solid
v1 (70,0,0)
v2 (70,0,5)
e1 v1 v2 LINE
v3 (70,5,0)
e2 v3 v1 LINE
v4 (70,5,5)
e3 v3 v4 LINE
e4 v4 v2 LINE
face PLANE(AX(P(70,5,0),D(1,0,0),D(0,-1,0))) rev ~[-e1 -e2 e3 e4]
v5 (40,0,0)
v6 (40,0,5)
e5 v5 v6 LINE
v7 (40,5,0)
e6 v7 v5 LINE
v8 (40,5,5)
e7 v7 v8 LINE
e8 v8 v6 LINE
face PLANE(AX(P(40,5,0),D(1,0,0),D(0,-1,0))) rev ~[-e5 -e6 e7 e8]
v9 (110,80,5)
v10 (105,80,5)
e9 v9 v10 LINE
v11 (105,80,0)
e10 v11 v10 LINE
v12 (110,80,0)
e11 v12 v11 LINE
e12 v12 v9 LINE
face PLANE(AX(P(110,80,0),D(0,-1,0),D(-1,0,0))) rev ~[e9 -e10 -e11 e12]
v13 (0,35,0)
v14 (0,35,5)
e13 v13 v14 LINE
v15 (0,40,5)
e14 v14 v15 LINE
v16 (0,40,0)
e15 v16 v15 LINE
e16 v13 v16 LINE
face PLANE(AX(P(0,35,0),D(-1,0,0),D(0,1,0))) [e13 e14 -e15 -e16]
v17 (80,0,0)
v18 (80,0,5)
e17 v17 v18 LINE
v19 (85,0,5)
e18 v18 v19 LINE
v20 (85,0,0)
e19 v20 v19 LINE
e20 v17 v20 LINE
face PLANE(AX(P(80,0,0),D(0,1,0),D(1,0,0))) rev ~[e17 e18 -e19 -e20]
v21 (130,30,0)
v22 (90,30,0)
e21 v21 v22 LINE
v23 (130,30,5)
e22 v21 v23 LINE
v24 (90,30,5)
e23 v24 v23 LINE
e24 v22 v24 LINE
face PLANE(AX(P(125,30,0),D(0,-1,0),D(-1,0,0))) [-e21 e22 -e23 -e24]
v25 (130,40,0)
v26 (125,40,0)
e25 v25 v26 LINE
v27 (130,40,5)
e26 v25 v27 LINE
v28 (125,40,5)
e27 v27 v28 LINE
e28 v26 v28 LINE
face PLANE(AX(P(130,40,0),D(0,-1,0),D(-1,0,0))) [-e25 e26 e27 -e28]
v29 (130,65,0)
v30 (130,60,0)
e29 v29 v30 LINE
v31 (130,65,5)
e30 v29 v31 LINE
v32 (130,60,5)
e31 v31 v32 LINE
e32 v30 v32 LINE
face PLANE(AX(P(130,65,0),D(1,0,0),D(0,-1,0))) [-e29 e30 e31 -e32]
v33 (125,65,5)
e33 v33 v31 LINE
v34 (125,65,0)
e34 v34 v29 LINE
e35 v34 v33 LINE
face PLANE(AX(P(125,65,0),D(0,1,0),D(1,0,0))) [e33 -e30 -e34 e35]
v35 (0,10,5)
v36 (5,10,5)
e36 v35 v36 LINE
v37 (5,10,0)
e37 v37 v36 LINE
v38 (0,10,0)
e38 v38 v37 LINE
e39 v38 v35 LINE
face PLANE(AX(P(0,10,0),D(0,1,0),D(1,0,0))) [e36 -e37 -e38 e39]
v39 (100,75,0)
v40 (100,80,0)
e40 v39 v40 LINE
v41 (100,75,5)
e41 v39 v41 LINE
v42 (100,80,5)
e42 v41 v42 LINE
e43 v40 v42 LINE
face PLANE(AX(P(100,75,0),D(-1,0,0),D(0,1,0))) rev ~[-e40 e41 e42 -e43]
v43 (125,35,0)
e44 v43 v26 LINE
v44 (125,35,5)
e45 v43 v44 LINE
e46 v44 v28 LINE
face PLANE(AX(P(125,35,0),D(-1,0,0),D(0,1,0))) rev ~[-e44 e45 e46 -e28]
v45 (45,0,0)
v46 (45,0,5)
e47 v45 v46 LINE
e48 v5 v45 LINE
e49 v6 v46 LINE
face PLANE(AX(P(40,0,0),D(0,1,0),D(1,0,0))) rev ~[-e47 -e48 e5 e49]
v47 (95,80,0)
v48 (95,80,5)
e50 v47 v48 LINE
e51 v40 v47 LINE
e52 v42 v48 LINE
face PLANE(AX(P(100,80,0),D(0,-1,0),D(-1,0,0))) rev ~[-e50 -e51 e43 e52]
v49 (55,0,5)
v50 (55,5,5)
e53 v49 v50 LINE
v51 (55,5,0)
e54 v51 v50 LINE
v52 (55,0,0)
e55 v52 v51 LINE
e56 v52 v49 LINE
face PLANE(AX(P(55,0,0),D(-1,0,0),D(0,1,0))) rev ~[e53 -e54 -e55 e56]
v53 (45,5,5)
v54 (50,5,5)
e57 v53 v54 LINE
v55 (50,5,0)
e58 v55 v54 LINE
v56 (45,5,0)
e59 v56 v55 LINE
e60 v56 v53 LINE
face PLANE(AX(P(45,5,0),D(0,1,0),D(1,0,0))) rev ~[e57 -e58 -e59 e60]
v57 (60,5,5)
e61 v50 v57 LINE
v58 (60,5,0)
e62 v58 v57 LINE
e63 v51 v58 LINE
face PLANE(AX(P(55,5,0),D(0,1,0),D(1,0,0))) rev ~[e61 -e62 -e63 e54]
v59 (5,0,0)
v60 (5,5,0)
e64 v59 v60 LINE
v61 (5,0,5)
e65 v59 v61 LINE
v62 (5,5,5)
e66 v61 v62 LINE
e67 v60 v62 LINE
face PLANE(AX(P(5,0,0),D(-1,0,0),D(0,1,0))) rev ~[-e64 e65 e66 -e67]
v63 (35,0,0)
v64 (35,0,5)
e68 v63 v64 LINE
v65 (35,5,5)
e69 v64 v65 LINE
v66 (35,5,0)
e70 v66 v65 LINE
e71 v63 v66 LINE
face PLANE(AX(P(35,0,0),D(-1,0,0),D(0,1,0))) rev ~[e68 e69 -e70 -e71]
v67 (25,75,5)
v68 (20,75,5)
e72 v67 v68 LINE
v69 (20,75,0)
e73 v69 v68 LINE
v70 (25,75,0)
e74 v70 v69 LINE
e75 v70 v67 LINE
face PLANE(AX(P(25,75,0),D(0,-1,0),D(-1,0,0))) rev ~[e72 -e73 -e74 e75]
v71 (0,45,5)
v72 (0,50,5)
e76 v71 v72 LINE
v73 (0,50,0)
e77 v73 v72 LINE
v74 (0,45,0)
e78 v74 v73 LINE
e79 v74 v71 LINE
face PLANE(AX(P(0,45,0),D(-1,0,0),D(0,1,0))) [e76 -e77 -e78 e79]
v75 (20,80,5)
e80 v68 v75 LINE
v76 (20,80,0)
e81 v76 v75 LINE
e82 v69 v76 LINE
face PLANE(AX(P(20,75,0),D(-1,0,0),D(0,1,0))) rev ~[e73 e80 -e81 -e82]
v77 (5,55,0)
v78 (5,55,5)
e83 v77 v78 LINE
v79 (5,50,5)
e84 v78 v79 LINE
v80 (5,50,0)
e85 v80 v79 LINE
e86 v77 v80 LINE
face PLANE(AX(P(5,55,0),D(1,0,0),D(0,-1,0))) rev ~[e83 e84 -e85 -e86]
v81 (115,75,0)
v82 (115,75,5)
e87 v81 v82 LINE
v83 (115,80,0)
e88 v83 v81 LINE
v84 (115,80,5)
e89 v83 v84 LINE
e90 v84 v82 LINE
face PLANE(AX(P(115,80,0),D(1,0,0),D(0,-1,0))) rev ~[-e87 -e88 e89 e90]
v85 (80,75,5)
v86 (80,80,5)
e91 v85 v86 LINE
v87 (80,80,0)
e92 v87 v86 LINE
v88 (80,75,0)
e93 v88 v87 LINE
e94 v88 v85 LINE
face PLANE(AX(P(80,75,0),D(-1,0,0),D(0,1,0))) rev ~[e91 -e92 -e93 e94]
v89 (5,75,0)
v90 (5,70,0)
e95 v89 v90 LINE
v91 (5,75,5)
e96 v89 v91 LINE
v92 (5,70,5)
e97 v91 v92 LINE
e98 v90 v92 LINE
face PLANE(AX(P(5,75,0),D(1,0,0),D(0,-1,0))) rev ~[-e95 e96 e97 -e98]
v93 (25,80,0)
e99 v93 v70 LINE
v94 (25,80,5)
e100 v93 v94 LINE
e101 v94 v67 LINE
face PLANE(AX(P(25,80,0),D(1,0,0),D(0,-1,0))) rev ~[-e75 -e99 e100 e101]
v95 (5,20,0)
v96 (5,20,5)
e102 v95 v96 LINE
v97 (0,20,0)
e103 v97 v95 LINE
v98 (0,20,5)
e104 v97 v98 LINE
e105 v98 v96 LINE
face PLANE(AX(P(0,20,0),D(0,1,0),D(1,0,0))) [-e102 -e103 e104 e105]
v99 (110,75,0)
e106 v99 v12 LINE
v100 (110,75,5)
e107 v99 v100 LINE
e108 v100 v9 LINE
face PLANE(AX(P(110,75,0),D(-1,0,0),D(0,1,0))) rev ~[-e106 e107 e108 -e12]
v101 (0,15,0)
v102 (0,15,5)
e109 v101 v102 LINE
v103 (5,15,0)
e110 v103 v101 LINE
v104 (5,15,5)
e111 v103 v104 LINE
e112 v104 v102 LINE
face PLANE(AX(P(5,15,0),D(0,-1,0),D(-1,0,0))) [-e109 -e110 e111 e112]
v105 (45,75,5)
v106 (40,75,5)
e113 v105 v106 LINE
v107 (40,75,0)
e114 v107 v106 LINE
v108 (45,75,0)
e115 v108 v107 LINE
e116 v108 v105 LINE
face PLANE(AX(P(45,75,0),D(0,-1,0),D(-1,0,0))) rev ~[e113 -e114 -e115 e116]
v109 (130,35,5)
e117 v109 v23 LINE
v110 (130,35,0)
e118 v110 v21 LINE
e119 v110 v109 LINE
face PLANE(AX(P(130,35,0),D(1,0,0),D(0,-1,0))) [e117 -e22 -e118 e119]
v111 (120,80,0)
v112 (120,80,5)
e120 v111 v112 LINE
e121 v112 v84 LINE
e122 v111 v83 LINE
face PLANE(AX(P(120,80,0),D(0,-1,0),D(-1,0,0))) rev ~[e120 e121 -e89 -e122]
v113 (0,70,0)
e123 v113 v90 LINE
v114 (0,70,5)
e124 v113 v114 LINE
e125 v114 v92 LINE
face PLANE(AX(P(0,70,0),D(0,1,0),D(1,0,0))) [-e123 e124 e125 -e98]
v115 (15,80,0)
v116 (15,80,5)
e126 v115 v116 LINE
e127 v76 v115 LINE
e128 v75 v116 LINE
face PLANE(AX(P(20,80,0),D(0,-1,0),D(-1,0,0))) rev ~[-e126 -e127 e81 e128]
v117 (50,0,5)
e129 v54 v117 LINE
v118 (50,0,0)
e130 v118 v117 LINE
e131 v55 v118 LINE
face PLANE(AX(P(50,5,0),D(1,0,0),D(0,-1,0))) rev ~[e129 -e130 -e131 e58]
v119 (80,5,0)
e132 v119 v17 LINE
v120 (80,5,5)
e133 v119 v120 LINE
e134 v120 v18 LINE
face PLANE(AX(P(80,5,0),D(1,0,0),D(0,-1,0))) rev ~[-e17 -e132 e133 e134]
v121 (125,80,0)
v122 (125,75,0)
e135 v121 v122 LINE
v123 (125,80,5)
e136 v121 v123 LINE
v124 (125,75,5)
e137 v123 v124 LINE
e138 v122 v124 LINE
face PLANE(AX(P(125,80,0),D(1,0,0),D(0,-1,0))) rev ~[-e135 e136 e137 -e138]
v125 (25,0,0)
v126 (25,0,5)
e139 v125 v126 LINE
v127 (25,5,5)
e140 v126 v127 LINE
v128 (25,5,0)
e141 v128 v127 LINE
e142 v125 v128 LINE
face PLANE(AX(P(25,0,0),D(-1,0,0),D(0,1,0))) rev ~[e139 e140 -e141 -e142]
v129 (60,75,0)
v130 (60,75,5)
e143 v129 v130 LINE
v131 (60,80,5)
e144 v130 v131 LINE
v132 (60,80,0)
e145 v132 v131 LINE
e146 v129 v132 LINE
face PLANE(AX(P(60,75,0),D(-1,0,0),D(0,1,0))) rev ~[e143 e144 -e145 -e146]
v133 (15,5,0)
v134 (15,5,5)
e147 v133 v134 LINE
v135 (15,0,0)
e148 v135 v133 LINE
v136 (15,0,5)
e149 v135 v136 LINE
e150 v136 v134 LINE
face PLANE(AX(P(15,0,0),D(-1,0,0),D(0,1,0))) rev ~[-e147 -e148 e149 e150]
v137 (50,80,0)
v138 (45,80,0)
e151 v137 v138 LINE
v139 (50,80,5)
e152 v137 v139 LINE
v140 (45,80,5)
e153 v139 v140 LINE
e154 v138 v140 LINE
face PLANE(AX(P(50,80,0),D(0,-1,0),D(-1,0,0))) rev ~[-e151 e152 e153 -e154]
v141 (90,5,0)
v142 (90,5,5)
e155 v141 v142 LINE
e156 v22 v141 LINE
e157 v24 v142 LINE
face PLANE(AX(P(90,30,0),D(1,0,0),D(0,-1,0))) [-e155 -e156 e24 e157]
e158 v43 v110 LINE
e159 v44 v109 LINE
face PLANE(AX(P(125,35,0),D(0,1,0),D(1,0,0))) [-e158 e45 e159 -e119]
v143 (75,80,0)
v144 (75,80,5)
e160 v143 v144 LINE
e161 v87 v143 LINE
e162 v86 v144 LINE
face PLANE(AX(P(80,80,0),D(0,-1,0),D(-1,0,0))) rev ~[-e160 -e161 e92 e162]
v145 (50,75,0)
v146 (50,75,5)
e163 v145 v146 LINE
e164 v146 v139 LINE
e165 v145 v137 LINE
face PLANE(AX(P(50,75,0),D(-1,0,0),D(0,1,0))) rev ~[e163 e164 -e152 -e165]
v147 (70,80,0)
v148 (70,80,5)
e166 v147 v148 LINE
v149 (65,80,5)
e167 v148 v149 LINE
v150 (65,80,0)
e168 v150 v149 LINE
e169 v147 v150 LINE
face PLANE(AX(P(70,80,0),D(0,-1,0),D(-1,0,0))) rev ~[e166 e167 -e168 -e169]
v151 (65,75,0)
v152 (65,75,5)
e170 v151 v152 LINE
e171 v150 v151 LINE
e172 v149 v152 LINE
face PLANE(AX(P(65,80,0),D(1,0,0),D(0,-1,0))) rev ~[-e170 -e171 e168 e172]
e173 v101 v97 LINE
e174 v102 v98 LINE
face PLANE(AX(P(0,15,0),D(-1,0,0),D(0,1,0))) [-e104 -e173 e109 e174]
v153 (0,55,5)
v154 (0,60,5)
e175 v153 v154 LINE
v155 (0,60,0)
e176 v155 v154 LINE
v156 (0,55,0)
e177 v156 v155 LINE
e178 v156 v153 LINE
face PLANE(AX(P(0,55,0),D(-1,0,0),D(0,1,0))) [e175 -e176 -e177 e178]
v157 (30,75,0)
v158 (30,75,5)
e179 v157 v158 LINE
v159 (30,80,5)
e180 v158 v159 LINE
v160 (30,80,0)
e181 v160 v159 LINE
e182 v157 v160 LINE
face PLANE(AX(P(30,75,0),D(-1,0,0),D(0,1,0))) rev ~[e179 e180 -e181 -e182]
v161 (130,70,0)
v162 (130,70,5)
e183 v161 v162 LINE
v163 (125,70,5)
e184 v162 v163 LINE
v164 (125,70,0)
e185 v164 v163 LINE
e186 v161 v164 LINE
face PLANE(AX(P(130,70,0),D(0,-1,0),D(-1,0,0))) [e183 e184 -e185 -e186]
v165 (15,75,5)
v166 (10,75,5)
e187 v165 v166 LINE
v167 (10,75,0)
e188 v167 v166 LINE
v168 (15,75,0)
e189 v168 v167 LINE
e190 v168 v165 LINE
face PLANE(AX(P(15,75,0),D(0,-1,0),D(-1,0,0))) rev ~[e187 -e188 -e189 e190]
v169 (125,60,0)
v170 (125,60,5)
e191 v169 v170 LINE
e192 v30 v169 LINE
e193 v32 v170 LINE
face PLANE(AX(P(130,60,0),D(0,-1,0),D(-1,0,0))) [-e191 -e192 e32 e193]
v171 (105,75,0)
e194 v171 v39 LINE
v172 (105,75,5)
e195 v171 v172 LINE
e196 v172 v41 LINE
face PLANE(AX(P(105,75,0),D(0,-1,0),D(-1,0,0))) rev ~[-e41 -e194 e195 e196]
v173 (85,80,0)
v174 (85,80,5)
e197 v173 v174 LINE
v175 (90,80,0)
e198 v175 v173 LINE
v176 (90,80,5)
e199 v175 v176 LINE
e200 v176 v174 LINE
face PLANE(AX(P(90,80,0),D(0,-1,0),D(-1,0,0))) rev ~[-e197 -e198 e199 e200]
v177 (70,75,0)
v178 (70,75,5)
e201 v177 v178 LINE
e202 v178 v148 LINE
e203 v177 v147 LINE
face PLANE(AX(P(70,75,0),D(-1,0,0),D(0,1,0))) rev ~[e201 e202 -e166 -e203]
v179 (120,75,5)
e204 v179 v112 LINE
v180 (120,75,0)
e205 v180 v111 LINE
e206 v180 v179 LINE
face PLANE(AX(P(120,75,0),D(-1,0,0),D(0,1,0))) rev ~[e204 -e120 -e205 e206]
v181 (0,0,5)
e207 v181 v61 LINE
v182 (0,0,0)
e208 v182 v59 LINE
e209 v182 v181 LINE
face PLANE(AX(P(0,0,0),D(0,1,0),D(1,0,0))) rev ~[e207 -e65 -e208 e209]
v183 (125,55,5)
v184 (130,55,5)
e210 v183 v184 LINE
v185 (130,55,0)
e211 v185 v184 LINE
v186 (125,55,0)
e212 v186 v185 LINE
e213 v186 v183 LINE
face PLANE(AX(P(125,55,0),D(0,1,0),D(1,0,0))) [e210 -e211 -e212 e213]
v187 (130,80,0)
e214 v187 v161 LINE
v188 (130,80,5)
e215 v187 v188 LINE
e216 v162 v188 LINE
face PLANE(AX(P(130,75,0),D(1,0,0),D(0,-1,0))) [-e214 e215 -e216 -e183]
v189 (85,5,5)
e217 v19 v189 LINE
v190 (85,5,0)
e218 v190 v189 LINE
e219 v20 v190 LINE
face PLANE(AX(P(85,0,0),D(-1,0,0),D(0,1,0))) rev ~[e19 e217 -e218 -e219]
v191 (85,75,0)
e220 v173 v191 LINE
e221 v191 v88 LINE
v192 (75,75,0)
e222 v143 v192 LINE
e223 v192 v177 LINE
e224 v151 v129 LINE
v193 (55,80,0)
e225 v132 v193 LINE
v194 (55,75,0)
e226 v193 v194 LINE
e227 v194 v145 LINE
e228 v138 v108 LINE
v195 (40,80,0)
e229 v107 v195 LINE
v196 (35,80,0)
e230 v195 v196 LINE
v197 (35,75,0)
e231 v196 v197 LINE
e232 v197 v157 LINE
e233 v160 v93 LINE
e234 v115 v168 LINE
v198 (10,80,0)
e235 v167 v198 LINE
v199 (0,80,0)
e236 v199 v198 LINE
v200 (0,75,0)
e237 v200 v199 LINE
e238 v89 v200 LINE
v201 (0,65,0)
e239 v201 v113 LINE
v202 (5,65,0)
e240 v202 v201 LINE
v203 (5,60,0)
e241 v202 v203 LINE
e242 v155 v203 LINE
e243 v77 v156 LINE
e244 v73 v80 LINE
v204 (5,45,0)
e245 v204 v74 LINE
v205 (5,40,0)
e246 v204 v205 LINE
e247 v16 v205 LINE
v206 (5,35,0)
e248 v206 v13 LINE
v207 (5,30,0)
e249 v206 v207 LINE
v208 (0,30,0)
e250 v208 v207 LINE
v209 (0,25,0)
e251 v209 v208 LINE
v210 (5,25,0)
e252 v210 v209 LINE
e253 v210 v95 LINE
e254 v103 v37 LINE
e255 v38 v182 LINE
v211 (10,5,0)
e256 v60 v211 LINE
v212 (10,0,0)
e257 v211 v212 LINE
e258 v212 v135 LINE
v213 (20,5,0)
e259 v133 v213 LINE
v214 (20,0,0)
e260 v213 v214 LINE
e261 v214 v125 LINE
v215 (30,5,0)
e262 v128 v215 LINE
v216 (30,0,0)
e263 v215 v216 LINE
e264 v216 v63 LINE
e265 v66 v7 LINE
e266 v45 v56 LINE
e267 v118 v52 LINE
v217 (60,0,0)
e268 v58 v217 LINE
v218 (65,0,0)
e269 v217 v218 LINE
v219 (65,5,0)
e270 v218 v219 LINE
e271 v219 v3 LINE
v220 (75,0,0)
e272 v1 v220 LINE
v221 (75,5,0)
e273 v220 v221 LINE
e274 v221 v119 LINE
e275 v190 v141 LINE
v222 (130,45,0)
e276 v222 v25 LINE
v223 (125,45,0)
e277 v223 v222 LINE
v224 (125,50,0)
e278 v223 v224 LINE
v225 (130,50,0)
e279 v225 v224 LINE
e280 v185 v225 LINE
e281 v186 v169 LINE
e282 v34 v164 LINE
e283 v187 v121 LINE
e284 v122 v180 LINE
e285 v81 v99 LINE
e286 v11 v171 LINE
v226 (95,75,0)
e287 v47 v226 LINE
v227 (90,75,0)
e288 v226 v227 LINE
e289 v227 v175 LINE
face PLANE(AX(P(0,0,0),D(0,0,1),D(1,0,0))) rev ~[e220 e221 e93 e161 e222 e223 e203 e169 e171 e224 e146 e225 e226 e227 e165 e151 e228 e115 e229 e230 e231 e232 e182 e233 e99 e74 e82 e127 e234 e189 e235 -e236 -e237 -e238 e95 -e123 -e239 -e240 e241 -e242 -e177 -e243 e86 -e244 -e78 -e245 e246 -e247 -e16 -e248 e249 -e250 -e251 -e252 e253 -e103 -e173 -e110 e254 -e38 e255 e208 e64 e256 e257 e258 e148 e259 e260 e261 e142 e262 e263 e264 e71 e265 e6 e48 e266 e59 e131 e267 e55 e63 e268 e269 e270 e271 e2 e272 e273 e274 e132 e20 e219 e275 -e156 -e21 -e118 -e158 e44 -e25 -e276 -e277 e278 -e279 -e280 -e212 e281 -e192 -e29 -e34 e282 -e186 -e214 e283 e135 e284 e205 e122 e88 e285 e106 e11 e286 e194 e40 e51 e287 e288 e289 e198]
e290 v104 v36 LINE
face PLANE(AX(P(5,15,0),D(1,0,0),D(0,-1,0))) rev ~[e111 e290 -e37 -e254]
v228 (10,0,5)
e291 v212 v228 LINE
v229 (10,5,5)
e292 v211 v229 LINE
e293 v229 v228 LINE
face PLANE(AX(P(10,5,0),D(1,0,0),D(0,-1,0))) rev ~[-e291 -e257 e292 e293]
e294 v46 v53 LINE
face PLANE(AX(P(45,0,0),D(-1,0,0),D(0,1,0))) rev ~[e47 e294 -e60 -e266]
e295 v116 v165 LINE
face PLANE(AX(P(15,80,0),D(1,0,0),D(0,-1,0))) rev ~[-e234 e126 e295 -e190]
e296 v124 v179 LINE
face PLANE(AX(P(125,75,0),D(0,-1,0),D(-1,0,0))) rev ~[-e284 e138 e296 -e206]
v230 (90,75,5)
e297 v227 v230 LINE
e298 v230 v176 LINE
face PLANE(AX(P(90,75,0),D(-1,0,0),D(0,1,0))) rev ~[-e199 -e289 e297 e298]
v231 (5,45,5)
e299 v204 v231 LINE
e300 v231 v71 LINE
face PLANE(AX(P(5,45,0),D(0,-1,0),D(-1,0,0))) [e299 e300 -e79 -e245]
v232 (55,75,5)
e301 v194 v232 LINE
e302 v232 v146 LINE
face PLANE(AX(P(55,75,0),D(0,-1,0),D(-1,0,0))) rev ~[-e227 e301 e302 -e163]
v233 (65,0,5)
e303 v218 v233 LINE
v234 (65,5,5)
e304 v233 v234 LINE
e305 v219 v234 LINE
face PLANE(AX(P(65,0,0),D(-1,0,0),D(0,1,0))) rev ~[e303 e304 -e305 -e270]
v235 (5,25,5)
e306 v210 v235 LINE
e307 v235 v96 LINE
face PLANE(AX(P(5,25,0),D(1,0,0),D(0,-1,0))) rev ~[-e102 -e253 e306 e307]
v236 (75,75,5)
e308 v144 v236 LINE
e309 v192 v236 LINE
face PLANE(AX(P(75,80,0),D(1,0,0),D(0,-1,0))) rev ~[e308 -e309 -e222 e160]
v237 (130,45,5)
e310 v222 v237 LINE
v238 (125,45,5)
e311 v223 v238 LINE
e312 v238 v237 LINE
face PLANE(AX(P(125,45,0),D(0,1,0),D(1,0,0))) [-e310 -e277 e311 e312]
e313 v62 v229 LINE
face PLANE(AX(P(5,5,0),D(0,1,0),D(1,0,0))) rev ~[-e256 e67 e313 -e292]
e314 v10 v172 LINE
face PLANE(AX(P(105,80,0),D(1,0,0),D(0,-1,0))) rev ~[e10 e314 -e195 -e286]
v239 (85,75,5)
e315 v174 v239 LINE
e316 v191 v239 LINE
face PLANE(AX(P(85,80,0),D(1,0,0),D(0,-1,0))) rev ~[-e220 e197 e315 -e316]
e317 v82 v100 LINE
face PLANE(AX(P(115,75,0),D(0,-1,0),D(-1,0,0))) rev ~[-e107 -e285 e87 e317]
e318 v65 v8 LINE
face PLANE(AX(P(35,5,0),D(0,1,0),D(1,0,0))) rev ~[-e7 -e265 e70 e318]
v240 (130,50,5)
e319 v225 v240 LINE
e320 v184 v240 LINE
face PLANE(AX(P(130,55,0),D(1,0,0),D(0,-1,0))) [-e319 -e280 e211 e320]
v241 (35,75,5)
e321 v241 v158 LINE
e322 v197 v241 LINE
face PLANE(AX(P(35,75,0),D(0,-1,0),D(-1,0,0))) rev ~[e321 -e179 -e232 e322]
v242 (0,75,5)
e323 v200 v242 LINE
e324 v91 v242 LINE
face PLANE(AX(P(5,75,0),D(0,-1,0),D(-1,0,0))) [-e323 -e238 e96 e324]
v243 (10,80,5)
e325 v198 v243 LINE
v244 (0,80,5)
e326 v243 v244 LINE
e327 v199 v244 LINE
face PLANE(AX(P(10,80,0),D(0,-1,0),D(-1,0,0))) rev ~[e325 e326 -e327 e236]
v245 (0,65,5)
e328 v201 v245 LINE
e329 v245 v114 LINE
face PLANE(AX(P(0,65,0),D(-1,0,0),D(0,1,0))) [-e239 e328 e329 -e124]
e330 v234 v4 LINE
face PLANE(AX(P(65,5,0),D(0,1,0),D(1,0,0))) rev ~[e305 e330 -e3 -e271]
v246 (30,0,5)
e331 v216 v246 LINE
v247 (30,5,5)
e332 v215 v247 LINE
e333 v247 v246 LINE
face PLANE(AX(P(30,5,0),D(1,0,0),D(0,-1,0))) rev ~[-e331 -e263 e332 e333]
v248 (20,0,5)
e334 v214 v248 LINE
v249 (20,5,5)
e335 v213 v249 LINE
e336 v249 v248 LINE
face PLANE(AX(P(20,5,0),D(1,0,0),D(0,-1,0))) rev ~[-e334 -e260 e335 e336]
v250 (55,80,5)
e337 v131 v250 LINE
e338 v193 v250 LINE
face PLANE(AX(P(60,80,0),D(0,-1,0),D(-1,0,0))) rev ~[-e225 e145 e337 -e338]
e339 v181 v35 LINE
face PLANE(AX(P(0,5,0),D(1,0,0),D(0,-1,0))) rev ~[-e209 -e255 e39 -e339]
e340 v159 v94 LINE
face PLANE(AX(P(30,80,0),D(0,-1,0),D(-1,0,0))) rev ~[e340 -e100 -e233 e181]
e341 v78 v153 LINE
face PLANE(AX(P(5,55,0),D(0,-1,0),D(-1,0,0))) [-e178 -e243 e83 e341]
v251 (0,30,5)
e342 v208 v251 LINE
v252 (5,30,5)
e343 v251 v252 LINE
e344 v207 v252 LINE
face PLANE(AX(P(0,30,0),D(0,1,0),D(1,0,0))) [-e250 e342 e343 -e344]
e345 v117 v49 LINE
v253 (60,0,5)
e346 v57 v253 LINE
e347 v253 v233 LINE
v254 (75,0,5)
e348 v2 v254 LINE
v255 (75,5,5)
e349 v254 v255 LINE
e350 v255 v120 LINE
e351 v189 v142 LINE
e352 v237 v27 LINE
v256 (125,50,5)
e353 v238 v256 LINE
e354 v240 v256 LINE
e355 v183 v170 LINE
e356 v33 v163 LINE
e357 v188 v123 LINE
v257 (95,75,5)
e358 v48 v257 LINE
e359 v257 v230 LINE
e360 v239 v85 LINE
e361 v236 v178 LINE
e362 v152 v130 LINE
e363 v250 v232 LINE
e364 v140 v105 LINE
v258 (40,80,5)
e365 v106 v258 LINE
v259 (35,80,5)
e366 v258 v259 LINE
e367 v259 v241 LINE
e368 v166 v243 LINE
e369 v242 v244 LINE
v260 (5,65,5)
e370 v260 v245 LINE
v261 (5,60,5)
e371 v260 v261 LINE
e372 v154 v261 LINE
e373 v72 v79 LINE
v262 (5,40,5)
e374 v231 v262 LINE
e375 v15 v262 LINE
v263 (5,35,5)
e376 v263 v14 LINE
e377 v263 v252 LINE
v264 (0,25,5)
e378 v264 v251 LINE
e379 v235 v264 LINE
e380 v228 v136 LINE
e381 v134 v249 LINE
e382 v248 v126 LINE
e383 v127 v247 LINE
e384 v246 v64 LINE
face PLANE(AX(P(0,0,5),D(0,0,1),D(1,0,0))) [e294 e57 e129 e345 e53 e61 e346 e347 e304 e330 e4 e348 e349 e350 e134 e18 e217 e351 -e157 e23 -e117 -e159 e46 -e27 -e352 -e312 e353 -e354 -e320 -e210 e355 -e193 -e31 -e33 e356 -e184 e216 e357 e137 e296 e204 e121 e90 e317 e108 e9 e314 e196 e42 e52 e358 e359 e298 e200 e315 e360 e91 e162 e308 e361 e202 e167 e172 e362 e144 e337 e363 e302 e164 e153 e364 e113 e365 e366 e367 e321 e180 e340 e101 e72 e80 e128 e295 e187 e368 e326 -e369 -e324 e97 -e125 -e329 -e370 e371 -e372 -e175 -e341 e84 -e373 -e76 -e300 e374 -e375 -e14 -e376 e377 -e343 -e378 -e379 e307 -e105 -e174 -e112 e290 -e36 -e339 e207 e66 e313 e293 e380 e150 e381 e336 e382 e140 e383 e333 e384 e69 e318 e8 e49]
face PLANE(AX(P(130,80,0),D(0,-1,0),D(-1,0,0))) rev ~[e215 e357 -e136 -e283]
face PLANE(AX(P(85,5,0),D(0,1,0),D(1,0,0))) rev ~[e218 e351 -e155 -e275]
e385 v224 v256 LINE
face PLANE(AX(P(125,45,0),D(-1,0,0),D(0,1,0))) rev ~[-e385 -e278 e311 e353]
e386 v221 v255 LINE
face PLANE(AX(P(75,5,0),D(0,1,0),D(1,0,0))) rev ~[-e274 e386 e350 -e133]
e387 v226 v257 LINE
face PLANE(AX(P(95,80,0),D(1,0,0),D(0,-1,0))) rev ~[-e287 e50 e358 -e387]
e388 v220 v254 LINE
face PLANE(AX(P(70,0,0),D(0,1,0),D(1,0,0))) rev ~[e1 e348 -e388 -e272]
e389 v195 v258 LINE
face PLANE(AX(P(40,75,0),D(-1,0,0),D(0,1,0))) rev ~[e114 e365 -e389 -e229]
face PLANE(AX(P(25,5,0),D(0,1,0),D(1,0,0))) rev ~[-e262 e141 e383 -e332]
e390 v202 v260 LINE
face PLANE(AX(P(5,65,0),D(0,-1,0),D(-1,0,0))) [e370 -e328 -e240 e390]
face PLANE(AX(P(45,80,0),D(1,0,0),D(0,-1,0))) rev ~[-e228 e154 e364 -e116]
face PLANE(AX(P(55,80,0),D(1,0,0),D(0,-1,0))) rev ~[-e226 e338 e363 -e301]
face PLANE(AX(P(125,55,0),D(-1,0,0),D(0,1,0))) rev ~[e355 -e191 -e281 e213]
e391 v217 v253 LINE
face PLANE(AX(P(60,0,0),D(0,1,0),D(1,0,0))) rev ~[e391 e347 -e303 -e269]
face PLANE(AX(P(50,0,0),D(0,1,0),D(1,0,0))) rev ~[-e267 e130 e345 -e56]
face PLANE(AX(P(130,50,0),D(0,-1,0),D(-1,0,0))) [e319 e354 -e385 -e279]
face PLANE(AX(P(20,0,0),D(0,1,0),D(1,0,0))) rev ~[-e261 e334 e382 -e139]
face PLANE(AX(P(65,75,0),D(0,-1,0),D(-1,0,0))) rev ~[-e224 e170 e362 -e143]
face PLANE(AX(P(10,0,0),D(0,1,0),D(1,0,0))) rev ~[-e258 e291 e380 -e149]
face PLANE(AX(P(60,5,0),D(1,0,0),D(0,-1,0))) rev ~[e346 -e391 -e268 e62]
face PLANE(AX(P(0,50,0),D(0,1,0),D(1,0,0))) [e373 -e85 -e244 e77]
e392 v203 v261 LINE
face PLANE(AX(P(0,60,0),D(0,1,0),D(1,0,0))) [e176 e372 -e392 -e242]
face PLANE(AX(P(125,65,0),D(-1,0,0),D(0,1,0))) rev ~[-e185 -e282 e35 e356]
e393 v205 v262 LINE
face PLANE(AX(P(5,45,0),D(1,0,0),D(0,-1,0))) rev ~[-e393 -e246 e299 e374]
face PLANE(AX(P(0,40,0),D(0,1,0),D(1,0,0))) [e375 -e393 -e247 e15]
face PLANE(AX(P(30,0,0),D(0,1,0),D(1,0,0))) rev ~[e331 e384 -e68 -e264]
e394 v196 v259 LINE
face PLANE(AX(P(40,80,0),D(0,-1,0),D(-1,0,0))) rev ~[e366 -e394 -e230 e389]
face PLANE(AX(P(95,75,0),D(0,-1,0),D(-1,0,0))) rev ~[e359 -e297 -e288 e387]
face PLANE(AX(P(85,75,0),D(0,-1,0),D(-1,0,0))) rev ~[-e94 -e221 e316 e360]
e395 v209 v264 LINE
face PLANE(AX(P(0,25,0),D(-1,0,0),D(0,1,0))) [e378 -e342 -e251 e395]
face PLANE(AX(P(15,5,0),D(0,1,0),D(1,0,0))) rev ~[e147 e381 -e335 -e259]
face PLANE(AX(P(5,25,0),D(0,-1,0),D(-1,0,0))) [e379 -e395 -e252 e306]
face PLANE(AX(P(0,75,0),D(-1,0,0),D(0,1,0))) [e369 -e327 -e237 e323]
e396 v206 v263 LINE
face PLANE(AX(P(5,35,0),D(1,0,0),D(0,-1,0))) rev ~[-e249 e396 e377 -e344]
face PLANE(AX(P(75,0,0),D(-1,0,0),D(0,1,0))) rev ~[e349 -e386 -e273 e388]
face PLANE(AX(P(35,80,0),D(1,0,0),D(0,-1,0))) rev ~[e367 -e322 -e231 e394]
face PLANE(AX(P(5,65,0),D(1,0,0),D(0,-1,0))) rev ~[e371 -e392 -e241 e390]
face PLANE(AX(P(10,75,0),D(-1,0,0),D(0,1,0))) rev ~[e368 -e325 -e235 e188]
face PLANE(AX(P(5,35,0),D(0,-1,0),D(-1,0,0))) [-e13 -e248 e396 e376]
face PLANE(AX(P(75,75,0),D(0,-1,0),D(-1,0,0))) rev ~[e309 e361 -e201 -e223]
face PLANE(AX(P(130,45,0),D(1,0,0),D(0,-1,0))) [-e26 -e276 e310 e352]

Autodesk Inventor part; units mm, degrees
ref_plane "YZ Plane" through (0, 0, 0) normal (1, 0, 0) x (0, 1, 0)
ref_plane "XZ Plane" through (0, 0, 0) normal (0, 1, 0) x (-1, 0, 0)
ref_plane "XY Plane" through (0, 0, 0) normal (0, 0, 1) x (1, 0, 0)
sketch "Sketch1" plane through (0, 0, 0) normal (0, 0, 1) x (1, 0, 0)
  line L0 (0, 0) -> (5, 0)
  line L1 (5, 0) -> (5, 5)
  line L2 (5, 5) -> (0, 5)
  line L3 (0, 5) -> (0, 0)
  line L4 (5, 5) -> (125, 5)
  line L5 (125, 5) -> (125, 75)
  line L6 (125, 75) -> (5, 75)
  line L7 (5, 75) -> (5, 5)
  line L8 (130, 80) -> (125, 80)
  line L9 (125, 80) -> (125, 75)
  line L10 (125, 75) -> (130, 75)
  line L11 (130, 75) -> (130, 80)
  line L12 (115, 80) -> (115, 75)
  line L13 (115, 75) -> (120, 75)
  line L14 (120, 75) -> (120, 80)
  line L15 (120, 80) -> (115, 80)
  line L16 (105, 80) -> (105, 75)
  line L17 (105, 75) -> (110, 75)
  line L18 (110, 75) -> (110, 80)
  line L19 (110, 80) -> (105, 80)
  line L20 (95, 80) -> (95, 75)
  line L21 (95, 75) -> (100, 75)
  line L22 (100, 75) -> (100, 80)
  line L23 (100, 80) -> (95, 80)
  line L24 (85, 80) -> (85, 75)
  line L25 (85, 75) -> (90, 75)
  line L26 (90, 75) -> (90, 80)
  line L27 (90, 80) -> (85, 80)
  line L28 (75, 80) -> (75, 75)
  line L29 (75, 75) -> (80, 75)
  line L30 (80, 75) -> (80, 80)
  line L31 (80, 80) -> (75, 80)
  line L32 (65, 80) -> (65, 75)
  line L33 (65, 75) -> (70, 75)
  line L34 (70, 75) -> (70, 80)
  line L35 (70, 80) -> (65, 80)
  line L36 (55, 80) -> (55, 75)
  line L37 (55, 75) -> (60, 75)
  line L38 (60, 75) -> (60, 80)
  line L39 (60, 80) -> (55, 80)
  line L40 (45, 80) -> (45, 75)
  line L41 (45, 75) -> (50, 75)
  line L42 (50, 75) -> (50, 80)
  line L43 (50, 80) -> (45, 80)
  line L44 (35, 80) -> (35, 75)
  line L45 (35, 75) -> (40, 75)
  line L46 (40, 75) -> (40, 80)
  line L47 (40, 80) -> (35, 80)
  line L48 (25, 80) -> (25, 75)
  line L49 (25, 75) -> (30, 75)
  line L50 (30, 75) -> (30, 80)
  line L51 (30, 80) -> (25, 80)
  line L52 (15, 80) -> (15, 75)
  line L53 (15, 75) -> (20, 75)
  line L54 (20, 75) -> (20, 80)
  line L55 (20, 80) -> (15, 80)
  line L56 (5, 80) -> (5, 75)
  line L57 (5, 75) -> (10, 75)
  line L58 (10, 75) -> (10, 80)
  line L59 (10, 80) -> (5, 80)
  line L60 (130, 70) -> (125, 70)
  line L61 (125, 70) -> (125, 75)
  line L62 (125, 75) -> (130, 75)
  line L63 (130, 75) -> (130, 70)
  line L64 (130, 60) -> (125, 60)
  line L65 (125, 60) -> (125, 65)
  line L66 (130, 65) -> (130, 60)
  line L67 (125, 65) -> (130, 65)
  line L68 (125, 65) -> (130, 65)
  line L69 (130, 50) -> (125, 50)
  line L70 (125, 50) -> (125, 55)
  line L71 (130, 55) -> (130, 50)
  line L72 (125, 55) -> (130, 55)
  line L73 (125, 55) -> (130, 55)
  line L74 (130, 40) -> (125, 40)
  line L75 (125, 40) -> (125, 45)
  line L76 (130, 45) -> (130, 40)
  line L77 (125, 45) -> (130, 45)
  line L78 (125, 45) -> (130, 45)
  line L79 (130, 30) -> (125, 30)
  line L80 (125, 30) -> (125, 35)
  line L81 (130, 35) -> (130, 30)
  line L82 (125, 35) -> (130, 35)
  line L83 (125, 35) -> (130, 35)
  line L84 (130, 20) -> (125, 20)
  line L85 (125, 20) -> (125, 25)
  line L86 (130, 25) -> (130, 20)
  line L87 (125, 25) -> (130, 25)
  line L88 (125, 25) -> (130, 25)
  line L89 (130, 10) -> (125, 10)
  line L90 (125, 10) -> (125, 15)
  line L91 (130, 15) -> (130, 10)
  line L92 (125, 15) -> (130, 15)
  line L93 (125, 15) -> (130, 15)
  line L94 (0, 80) -> (5, 80)
  line L95 (5, 80) -> (5, 75)
  line L96 (5, 75) -> (0, 75)
  line L97 (0, 75) -> (0, 80)
  line L98 (5, 70) -> (5, 65)
  line L99 (5, 65) -> (0, 65)
  line L100 (0, 70) -> (5, 70)
  line L101 (0, 65) -> (0, 70)
  line L102 (5, 70) -> (5, 65)
  line L103 (5, 60) -> (5, 55)
  line L104 (5, 55) -> (0, 55)
  line L105 (0, 60) -> (5, 60)
  line L106 (0, 55) -> (0, 60)
  line L107 (5, 60) -> (5, 55)
  line L108 (5, 50) -> (5, 45)
  line L109 (5, 45) -> (0, 45)
  line L110 (0, 50) -> (5, 50)
  line L111 (0, 45) -> (0, 50)
  line L112 (5, 50) -> (5, 45)
  line L113 (5, 40) -> (5, 35)
  line L114 (5, 35) -> (0, 35)
  line L115 (0, 40) -> (5, 40)
  line L116 (0, 35) -> (0, 40)
  line L117 (5, 40) -> (5, 35)
  line L118 (5, 30) -> (5, 25)
  line L119 (5, 25) -> (0, 25)
  line L120 (0, 30) -> (5, 30)
  line L121 (0, 25) -> (0, 30)
  line L122 (5, 30) -> (5, 25)
  line L123 (5, 20) -> (5, 15)
  line L124 (5, 15) -> (0, 15)
  line L125 (0, 20) -> (5, 20)
  line L126 (0, 15) -> (0, 20)
  line L127 (5, 20) -> (5, 15)
  line L128 (5, 10) -> (5, 5)
  line L129 (5, 5) -> (0, 5)
  line L130 (0, 10) -> (5, 10)
  line L131 (0, 5) -> (0, 10)
  line L132 (5, 10) -> (5, 5)
  line L133 (125, 30) -> (90, 30)
  line L134 (90, 30) -> (90, 5)
  line L135 (10, 0) -> (15, 0)
  line L136 (15, 0) -> (15, 5)
  line L137 (10, 5) -> (10, 0)
  line L138 (20, 0) -> (25, 0)
  line L139 (25, 0) -> (25, 5)
  line L140 (20, 5) -> (20, 0)
  line L141 (30, 0) -> (35, 0)
  line L142 (35, 0) -> (35, 5)
  line L143 (30, 5) -> (30, 0)
  line L144 (40, 0) -> (45, 0)
  line L145 (45, 0) -> (45, 5)
  line L146 (40, 5) -> (40, 0)
  line L147 (50, 0) -> (55, 0)
  line L148 (55, 0) -> (55, 5)
  line L149 (50, 5) -> (50, 0)
  line L150 (60, 0) -> (65, 0)
  line L151 (65, 0) -> (65, 5)
  line L152 (60, 5) -> (60, 0)
  line L153 (70, 0) -> (75, 0)
  line L154 (75, 0) -> (75, 5)
  line L155 (70, 5) -> (70, 0)
  line L156 (80, 0) -> (85, 0)
  line L157 (85, 0) -> (85, 5)
  line L158 (80, 5) -> (80, 0)
  line L159 (90, 0) -> (95, 0)
  line L160 (95, 0) -> (95, 5)
  line L161 (90, 5) -> (90, 0)
  line L162 (100, 0) -> (105, 0)
  line L163 (105, 0) -> (105, 5)
  line L164 (100, 5) -> (100, 0)
  line L165 (110, 0) -> (115, 0)
  line L166 (115, 0) -> (115, 5)
  line L167 (110, 5) -> (110, 0)
  line L168 (120, 0) -> (125, 0)
  line L169 (125, 0) -> (125, 5)
  line L170 (120, 5) -> (120, 0)
  point P0 (5, 65)
  point P1 (5, 55)
  point P2 (5, 45)
  point P3 (5, 35)
  point P4 (5, 25)
  point P5 (5, 15)
  point P6 (5, 5)
  dimension "d2" = 120
  dimension "d36" = 70
  dimension "d53" = 10
  dimension "d60" = 10
  dimension "d67" = 10
  dimension "d74" = 10
  dimension "d85" = 25
extrude "Extrusion3" add sketch "Sketch1" along normal blind 5 contours L3 L2 L1 L0 | L131 L130 L7 L2 | L7 L6 L5 L133 L134 L4 | L4 L136 L135 L137 | L124 L126 L125 L7 | L4 L139 L138 L140 | L119 L121 L120 L7 | L4 L142 L141 L143 | L114 L116 L115 L7 | L4 L145 L144 L146 | L109 L111 L110 L7 | L4 L148 L147 L149 | L104 L106 L105 L7 | L4 L151 L150 L152 | L99 L101 L100 L7 | L4 L154 L153 L155 | L56 L59 L58 L6 | L96 L97 L94 L56 | L4 L157 L156 L158 | L52 L55 L54 L6 | L48 L51 L50 L6 | L5 L82 L81 L79 | L44 L47 L46 L6 | L5 L77 L76 L74 | L40 L43 L42 L6 | L5 L72 L71 L69 | L36 L39 L38 L6 | L5 L67 L66 L64 | L32 L35 L34 L6 | L5 L10 L63 L60 | L9 L8 L11 L10 | L28 L31 L30 L6 | L6 L12 L15 L14 | L24 L27 L26 L6 | L6 L16 L19 L18 | L20 L23 L22 L6
properties part number "leftrightside"
